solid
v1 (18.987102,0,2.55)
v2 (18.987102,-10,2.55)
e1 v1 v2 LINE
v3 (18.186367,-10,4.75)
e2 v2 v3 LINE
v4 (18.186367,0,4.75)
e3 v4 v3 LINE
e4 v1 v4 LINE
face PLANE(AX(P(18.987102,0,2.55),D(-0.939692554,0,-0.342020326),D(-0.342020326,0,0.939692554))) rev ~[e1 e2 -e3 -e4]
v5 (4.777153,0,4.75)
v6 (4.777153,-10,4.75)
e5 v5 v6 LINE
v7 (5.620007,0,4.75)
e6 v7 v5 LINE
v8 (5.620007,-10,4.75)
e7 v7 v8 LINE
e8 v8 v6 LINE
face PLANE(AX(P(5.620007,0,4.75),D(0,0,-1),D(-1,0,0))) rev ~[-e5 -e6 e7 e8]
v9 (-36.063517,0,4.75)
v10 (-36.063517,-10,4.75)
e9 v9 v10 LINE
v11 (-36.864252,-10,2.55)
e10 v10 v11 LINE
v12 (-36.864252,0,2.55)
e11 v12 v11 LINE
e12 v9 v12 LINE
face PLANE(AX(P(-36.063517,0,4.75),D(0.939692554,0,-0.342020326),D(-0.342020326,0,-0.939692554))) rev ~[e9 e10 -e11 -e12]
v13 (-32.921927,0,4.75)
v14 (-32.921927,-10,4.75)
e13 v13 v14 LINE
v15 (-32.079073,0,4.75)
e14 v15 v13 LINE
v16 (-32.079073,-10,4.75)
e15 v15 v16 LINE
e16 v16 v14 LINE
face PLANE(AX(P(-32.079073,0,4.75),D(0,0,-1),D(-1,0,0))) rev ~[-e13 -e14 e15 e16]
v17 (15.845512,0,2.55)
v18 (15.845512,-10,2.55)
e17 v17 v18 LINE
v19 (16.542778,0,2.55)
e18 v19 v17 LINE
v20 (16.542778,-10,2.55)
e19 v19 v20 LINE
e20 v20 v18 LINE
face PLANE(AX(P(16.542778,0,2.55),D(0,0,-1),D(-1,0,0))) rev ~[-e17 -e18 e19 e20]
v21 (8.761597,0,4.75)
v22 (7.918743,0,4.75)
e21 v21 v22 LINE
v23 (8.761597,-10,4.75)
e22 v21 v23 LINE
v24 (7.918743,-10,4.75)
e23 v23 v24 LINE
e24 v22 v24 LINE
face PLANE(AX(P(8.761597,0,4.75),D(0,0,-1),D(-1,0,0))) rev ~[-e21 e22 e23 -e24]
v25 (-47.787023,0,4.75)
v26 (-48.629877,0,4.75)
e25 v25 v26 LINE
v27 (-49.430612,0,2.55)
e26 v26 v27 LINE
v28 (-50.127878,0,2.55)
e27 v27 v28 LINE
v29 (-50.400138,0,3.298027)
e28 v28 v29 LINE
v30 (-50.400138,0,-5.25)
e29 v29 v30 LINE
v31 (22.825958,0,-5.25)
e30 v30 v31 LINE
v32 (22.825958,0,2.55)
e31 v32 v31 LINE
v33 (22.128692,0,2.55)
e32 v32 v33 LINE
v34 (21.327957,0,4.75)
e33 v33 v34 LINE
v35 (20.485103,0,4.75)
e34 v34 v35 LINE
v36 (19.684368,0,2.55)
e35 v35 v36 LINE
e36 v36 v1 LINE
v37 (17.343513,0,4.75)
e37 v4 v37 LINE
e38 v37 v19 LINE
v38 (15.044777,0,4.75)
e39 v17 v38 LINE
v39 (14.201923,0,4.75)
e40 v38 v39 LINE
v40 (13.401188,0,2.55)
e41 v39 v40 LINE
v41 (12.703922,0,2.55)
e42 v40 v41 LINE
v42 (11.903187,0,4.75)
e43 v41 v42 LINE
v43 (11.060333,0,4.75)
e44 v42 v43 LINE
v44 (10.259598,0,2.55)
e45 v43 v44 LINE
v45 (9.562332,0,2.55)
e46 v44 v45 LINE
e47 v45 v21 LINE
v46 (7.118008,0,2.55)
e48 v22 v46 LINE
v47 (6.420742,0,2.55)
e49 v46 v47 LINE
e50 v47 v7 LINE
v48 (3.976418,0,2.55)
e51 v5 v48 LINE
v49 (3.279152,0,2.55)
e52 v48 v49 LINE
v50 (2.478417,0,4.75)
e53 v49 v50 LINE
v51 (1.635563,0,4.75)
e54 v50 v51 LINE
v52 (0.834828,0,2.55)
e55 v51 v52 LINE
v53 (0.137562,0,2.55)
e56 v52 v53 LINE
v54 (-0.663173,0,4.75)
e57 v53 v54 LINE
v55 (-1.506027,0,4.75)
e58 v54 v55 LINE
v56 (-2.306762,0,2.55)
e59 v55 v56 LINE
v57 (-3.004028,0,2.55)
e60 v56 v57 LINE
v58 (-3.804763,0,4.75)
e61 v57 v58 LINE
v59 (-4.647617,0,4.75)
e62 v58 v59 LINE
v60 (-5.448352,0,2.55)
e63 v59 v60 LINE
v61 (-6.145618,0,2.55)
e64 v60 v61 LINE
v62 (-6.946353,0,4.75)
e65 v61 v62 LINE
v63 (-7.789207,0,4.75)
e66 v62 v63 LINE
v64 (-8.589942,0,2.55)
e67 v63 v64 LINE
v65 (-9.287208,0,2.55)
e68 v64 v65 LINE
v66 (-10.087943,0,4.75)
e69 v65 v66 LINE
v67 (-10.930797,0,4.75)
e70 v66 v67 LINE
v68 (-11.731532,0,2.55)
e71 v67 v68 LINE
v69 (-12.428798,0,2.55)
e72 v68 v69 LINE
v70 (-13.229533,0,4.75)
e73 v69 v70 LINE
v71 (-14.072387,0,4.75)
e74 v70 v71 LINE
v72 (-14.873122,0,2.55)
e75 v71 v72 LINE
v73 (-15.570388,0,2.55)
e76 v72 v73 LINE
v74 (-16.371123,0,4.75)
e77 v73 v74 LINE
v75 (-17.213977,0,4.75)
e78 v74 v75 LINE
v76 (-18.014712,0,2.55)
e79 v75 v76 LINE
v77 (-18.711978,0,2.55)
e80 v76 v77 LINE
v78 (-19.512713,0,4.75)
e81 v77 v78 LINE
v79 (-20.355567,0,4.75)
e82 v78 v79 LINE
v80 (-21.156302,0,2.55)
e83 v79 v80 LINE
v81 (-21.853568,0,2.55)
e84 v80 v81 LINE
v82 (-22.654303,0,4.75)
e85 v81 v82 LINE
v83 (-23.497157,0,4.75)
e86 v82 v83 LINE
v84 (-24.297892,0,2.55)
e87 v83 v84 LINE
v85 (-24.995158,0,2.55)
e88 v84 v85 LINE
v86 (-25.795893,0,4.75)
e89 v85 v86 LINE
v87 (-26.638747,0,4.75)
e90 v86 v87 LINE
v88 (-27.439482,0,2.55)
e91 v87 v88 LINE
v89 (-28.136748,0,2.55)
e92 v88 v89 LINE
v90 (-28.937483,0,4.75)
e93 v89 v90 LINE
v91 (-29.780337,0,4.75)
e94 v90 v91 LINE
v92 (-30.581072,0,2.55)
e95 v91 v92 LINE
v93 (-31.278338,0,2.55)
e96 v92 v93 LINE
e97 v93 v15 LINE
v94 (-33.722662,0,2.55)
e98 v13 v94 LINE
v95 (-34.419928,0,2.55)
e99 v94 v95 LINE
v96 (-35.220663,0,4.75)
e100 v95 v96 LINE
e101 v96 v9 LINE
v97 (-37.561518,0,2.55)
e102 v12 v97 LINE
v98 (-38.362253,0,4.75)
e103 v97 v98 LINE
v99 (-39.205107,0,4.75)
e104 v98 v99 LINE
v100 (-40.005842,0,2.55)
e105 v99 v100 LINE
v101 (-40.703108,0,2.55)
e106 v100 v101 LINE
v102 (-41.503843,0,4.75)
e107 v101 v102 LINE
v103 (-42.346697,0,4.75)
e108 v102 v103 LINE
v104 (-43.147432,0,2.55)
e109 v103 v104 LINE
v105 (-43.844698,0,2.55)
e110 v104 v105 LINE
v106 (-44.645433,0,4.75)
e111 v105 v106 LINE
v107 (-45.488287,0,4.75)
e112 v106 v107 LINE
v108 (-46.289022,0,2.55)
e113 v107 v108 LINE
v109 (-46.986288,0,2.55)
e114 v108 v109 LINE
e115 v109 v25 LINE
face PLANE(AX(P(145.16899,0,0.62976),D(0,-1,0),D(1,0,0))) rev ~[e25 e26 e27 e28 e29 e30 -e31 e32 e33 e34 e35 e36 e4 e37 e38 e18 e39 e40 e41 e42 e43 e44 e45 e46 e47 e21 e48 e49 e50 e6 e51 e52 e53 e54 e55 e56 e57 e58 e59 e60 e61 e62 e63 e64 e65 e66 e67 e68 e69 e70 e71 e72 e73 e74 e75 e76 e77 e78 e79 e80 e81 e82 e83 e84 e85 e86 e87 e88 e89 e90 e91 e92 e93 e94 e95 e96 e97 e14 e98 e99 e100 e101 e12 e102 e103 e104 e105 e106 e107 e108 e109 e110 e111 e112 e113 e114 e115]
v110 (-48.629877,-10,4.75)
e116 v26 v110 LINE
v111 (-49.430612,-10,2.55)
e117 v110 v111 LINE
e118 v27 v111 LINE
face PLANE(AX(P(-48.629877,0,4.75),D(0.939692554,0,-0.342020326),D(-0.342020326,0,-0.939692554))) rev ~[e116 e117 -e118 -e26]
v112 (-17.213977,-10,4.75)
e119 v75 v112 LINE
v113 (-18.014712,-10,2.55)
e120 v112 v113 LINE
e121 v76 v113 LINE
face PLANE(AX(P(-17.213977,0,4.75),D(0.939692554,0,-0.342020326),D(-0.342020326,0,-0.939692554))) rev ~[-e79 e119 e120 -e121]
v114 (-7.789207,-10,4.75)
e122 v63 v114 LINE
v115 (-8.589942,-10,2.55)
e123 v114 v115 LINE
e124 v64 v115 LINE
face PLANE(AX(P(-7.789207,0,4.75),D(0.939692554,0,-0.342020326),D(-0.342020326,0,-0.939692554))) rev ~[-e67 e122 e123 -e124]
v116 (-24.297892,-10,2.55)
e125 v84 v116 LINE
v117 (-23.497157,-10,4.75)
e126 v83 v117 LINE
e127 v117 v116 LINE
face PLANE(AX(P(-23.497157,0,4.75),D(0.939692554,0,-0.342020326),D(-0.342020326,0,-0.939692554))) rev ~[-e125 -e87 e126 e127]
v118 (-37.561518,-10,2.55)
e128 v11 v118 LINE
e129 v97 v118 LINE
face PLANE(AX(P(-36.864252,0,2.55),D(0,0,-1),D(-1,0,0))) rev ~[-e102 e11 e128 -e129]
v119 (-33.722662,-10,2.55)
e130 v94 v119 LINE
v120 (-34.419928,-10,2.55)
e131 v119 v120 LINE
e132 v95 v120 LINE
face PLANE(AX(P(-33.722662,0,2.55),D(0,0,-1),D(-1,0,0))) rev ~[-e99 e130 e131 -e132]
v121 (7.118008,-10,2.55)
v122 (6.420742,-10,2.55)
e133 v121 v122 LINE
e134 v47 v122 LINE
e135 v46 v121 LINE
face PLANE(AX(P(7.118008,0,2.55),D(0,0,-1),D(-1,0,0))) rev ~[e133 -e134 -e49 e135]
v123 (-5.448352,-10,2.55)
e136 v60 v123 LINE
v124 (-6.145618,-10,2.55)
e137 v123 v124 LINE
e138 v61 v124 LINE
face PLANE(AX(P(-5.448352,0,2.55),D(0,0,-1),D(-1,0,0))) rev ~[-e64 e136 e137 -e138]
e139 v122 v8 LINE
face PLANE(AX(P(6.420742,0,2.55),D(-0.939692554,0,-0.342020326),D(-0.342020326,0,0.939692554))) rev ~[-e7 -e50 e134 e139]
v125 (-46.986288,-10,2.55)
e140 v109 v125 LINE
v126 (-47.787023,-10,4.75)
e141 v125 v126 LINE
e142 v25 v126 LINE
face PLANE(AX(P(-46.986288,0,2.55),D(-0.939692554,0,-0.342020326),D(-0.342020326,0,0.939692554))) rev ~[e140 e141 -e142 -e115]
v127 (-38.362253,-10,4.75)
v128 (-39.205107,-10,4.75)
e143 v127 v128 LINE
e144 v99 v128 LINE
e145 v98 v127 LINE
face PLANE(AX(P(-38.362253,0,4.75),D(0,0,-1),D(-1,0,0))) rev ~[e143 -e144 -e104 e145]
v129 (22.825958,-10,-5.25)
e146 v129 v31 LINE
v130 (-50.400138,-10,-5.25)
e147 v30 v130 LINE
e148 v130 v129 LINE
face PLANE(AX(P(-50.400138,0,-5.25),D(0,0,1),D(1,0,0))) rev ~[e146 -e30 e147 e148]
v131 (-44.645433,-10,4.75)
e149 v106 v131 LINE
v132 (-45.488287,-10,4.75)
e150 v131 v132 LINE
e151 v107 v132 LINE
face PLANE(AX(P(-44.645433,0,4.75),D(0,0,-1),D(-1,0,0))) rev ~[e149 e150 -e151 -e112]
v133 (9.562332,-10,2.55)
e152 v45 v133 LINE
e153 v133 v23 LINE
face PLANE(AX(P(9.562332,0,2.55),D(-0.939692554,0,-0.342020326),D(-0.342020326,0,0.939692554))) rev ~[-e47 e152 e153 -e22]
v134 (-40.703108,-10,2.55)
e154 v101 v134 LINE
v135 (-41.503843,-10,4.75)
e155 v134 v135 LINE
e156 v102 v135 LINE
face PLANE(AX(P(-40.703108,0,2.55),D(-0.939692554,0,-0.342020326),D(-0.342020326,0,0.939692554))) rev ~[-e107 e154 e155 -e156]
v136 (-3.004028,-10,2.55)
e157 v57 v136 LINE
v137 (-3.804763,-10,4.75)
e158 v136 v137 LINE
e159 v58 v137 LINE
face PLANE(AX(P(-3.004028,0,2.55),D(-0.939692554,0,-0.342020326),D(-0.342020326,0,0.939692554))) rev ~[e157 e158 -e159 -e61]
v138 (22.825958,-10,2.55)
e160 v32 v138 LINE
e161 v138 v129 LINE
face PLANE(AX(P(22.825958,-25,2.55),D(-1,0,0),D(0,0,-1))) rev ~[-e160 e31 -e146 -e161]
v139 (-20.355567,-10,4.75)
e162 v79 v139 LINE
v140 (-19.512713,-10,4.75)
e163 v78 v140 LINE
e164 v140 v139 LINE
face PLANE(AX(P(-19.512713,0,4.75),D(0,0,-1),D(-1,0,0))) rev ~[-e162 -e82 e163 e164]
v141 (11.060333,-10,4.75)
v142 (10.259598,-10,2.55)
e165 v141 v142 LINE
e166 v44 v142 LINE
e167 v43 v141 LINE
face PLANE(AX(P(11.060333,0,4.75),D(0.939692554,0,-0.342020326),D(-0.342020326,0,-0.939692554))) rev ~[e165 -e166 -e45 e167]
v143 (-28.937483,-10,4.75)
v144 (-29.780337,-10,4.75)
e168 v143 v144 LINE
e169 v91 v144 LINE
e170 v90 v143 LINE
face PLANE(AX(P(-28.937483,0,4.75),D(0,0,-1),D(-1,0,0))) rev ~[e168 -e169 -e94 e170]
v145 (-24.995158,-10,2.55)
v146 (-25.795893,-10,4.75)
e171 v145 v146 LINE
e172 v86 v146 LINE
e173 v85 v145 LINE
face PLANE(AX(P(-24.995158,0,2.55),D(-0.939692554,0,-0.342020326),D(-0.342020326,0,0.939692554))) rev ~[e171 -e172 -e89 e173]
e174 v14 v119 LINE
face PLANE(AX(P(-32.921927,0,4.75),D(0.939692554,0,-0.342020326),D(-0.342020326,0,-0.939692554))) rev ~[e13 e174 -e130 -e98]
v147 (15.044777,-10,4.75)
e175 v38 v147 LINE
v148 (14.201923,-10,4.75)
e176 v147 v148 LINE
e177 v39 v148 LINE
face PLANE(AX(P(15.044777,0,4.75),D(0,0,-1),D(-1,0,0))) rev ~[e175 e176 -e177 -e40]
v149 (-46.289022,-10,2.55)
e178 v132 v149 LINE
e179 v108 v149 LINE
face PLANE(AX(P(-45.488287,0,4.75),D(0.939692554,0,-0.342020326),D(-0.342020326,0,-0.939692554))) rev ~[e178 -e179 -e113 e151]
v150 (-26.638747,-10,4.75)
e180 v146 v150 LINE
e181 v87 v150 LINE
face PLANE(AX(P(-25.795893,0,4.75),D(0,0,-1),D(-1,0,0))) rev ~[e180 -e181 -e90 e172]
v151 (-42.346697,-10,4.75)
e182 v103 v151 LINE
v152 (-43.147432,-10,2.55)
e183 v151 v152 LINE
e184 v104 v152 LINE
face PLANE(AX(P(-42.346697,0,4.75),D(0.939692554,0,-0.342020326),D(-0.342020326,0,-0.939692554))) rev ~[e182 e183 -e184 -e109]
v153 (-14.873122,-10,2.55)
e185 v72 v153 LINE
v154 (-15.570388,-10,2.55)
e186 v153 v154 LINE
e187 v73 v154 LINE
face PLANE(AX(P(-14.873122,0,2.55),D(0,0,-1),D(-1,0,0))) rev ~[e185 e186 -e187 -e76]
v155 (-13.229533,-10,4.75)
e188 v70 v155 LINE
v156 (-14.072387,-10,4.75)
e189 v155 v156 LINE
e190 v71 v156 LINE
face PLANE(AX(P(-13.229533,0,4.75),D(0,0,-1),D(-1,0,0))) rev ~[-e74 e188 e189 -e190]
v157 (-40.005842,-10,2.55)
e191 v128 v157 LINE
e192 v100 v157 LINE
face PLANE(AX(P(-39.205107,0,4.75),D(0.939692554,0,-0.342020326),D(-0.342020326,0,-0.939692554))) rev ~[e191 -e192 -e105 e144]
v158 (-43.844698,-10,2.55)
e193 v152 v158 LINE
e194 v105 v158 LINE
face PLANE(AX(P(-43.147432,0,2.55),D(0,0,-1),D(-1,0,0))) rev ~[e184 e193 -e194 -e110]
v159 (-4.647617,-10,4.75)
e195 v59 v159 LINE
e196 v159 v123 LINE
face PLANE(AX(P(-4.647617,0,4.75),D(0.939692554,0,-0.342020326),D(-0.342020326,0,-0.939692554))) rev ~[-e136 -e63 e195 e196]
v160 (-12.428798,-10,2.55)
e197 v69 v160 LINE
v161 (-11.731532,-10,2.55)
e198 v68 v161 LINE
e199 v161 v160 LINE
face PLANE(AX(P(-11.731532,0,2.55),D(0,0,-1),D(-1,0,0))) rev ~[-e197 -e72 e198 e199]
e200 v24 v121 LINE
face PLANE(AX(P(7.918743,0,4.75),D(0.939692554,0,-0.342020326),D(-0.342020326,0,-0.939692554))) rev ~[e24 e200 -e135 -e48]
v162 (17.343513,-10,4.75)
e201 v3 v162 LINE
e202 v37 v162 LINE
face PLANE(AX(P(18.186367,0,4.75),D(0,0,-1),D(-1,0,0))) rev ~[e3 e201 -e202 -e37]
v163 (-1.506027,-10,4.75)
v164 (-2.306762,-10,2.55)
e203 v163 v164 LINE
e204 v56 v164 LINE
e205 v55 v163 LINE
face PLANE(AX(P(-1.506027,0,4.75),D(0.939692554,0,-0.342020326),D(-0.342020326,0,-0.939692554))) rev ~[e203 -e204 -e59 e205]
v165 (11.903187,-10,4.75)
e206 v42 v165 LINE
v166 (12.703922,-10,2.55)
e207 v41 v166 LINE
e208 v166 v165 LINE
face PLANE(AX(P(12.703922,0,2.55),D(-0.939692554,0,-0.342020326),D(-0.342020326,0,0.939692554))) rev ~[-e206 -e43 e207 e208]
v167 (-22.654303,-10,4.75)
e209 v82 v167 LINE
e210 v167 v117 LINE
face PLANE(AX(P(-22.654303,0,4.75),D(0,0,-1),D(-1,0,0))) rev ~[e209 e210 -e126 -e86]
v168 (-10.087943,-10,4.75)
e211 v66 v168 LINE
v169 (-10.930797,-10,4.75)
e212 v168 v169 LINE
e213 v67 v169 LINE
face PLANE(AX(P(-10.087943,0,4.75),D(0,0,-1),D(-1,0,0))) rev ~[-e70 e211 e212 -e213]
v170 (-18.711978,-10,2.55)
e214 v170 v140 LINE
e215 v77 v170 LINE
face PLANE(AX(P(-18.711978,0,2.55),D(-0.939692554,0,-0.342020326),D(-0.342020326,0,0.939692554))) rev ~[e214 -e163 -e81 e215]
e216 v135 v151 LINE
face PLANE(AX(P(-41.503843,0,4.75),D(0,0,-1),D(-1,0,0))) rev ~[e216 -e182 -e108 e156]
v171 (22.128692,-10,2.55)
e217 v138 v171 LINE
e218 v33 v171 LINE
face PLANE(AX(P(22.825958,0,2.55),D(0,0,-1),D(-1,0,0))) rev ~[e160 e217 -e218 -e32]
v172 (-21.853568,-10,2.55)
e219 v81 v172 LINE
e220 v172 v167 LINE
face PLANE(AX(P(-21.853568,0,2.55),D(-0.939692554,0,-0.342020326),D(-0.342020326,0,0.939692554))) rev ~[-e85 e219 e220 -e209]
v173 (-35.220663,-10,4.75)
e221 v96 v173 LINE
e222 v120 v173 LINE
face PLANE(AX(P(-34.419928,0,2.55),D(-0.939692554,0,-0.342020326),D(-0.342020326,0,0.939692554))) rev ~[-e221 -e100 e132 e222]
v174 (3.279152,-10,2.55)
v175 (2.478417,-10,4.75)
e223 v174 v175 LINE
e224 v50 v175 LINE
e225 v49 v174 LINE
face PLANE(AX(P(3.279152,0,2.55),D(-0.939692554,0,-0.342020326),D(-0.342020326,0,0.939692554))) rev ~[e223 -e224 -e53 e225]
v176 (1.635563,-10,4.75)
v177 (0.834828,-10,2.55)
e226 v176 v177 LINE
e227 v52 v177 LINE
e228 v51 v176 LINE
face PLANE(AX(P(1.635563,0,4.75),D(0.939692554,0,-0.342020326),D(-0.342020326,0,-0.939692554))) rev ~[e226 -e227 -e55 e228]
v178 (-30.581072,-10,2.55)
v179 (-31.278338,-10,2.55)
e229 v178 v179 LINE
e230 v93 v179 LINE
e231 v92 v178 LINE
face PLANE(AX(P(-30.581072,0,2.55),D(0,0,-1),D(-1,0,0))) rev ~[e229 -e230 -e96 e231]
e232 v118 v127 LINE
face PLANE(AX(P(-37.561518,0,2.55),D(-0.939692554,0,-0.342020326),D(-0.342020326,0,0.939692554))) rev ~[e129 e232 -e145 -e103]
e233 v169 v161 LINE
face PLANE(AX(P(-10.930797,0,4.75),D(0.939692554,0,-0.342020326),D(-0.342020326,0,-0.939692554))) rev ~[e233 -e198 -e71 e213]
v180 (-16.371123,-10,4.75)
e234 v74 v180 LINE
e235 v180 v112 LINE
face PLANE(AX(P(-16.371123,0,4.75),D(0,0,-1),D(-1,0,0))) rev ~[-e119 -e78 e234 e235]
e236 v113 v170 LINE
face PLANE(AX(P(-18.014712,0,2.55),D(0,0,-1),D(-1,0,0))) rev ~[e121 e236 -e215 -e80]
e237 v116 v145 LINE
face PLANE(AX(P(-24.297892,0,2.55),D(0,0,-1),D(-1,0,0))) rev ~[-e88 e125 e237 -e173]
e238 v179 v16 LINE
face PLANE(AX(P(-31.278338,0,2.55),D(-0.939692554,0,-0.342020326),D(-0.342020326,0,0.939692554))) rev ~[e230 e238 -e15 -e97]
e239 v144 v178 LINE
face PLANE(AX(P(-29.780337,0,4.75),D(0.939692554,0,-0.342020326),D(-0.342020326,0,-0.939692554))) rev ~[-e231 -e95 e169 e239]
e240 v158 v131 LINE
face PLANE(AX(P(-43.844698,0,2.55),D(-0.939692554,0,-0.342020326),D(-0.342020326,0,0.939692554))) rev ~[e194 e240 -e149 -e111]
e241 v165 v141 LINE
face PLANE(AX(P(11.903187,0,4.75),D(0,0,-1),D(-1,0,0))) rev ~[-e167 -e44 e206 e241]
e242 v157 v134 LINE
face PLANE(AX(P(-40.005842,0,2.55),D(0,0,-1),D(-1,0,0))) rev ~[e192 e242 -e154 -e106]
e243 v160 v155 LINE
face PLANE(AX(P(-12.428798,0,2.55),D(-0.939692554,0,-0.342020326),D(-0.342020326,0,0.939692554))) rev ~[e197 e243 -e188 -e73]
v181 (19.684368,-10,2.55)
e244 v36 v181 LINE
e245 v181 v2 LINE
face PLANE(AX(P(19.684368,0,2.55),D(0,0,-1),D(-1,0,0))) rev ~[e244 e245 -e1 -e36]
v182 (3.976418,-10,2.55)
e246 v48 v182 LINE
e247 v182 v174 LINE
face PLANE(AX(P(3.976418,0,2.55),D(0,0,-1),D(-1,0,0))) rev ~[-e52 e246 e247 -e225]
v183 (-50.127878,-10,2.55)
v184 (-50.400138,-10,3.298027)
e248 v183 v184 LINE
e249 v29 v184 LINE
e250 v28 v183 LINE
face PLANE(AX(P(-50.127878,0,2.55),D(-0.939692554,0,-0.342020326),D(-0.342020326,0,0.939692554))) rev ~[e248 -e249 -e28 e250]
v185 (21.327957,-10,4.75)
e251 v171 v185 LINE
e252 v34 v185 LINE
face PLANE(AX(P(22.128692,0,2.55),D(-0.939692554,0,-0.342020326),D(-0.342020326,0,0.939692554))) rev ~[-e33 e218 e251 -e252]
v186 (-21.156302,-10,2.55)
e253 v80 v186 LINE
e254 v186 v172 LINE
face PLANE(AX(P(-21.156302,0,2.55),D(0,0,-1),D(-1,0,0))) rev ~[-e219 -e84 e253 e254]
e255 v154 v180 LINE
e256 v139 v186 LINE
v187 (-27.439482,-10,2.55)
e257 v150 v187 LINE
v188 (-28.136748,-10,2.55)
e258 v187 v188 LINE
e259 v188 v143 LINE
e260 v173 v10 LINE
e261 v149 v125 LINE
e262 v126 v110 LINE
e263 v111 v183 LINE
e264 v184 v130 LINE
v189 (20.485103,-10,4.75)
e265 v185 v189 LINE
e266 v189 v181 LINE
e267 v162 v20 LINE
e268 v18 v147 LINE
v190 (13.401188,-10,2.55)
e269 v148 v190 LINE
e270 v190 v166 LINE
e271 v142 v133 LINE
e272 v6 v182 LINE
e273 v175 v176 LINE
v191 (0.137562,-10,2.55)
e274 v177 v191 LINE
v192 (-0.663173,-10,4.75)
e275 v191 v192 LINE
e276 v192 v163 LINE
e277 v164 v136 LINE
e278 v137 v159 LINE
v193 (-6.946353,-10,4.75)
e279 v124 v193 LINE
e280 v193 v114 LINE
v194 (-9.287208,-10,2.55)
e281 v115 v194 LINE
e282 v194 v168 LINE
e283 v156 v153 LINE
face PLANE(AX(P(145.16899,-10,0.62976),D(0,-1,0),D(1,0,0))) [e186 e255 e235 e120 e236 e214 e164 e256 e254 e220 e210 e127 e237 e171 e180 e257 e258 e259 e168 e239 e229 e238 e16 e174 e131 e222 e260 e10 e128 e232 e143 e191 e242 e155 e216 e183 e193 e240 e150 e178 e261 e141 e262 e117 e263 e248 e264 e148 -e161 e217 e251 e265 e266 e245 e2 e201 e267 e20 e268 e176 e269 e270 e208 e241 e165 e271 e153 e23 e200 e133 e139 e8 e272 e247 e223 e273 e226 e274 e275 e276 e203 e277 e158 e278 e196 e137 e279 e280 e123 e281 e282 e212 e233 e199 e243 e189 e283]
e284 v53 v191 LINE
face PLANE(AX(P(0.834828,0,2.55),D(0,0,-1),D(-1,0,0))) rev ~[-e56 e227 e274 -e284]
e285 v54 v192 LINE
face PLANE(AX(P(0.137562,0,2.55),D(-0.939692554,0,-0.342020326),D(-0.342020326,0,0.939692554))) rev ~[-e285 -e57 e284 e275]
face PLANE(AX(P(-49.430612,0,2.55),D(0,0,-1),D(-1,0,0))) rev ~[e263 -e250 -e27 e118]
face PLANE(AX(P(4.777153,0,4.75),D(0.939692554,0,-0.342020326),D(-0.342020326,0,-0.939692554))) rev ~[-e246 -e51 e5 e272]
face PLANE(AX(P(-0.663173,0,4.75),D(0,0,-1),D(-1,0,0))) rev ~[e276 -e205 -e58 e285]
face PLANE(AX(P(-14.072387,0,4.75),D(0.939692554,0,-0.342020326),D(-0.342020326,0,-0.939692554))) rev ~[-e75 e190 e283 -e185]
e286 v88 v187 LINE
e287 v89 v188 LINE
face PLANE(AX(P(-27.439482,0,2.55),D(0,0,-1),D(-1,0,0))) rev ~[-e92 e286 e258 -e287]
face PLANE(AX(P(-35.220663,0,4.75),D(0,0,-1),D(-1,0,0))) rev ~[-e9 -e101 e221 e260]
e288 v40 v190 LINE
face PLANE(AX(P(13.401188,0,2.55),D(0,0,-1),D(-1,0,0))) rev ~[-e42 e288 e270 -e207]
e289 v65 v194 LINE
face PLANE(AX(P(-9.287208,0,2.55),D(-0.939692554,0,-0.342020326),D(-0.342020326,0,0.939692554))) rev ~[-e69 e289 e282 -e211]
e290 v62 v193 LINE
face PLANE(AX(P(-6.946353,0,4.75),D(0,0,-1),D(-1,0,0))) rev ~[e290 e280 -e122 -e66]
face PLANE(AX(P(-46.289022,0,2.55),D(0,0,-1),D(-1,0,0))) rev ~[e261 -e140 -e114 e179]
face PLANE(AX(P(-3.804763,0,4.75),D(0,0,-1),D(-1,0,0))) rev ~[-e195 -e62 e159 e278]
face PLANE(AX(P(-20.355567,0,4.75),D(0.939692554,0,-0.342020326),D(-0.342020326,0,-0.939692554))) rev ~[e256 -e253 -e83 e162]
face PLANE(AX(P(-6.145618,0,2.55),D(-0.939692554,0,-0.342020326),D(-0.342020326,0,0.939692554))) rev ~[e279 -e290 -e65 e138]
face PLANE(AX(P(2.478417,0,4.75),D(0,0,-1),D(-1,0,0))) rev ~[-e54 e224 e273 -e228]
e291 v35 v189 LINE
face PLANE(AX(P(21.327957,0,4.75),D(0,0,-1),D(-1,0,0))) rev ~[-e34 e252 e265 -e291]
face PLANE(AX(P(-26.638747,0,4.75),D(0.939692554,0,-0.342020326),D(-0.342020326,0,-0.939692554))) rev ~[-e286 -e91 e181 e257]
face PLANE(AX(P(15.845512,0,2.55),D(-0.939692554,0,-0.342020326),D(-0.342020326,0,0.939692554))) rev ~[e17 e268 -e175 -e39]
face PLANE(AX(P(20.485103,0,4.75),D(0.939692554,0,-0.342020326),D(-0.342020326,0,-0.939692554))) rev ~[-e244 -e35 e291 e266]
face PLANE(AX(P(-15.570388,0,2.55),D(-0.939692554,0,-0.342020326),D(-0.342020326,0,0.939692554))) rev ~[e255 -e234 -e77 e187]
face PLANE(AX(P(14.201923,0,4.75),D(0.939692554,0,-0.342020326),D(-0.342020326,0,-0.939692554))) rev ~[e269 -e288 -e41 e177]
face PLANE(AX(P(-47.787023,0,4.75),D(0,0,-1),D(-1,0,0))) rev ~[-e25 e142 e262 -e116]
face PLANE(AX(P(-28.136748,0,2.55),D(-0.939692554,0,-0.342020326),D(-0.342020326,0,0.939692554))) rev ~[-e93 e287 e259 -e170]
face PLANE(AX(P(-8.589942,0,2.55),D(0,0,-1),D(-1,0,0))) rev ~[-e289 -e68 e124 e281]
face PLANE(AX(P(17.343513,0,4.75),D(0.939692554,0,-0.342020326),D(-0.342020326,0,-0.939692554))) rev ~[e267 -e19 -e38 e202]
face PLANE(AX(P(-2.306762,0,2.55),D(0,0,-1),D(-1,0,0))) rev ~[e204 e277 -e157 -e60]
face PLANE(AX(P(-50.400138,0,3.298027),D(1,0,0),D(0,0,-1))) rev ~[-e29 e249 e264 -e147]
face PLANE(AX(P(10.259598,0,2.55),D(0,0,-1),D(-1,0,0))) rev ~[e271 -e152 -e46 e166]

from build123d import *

# Parameters (mm, degrees)
F1_DEPTH = 25
F3_DEPTH = 26
F5_DEPTH = 25
F6_DEPTH = 15


with BuildPart() as f1:
    # F0 (on Front) → F1 (new body)
    with BuildSketch(Plane.XZ):
        Polygon((245.77381, 2.55), (245.181582, 2.55), (244.380847, 4.75), (243.537993, 4.75), (242.737258, 2.55), (242.039992, 2.55), (241.239257, 4.75), (240.396403, 4.75), (239.595668, 2.55), (238.898402, 2.55), (238.097667, 4.75), (237.254813, 4.75), (236.454078, 2.55), (235.756812, 2.55), (234.956077, 4.75), (234.113223, 4.75), (233.312488, 2.55), (232.615222, 2.55), (231.814487, 4.75), (230.971633, 4.75), (230.170898, 2.55), (229.473632, 2.55), (228.672897, 4.75), (227.830043, 4.75), (227.029308, 2.55), (226.332042, 2.55), (225.531307, 4.75), (224.688453, 4.75), (223.887718, 2.55), (223.190452, 2.55), (222.389717, 4.75), (221.546863, 4.75), (220.746128, 2.55), (220.048862, 2.55), (219.248127, 4.75), (218.405273, 4.75), (217.604538, 2.55), (216.907272, 2.55), (216.106537, 4.75), (215.263683, 4.75), (214.462948, 2.55), (213.765682, 2.55), (212.964947, 4.75), (212.122093, 4.75), (211.321358, 2.55), (210.624092, 2.55), (209.823357, 4.75), (208.980503, 4.75), (208.179768, 2.55), (207.482502, 2.55), (206.681767, 4.75), (205.838913, 4.75), (205.038178, 2.55), (204.340912, 2.55), (203.540177, 4.75), (202.697323, 4.75), (201.896588, 2.55), (201.199322, 2.55), (200.398587, 4.75), (199.555733, 4.75), (198.754998, 2.55), (198.057732, 2.55), (197.256997, 4.75), (196.414143, 4.75), (195.613408, 2.55), (194.916142, 2.55), (194.115407, 4.75), (193.272553, 4.75), (192.471818, 2.55), (191.774552, 2.55), (190.973817, 4.75), (190.130963, 4.75), (189.330228, 2.55), (188.632962, 2.55), (187.832227, 4.75), (186.989373, 4.75), (186.188638, 2.55), (185.491372, 2.55), (184.690637, 4.75), (183.847783, 4.75), (183.047048, 2.55), (182.349782, 2.55), (181.549047, 4.75), (180.706193, 4.75), (179.905458, 2.55), (179.208192, 2.55), (178.407457, 4.75), (177.564603, 4.75), (176.763868, 2.55), (176.066602, 2.55), (175.265867, 4.75), (174.423013, 4.75), (173.622278, 2.55), (172.925012, 2.55), (172.124277, 4.75), (171.281423, 4.75), (170.480688, 2.55), (169.783422, 2.55), (168.982687, 4.75), (168.139833, 4.75), (167.339098, 2.55), (166.641832, 2.55), (165.841097, 4.75), (164.998243, 4.75), (164.197508, 2.55), (163.500242, 2.55), (162.699507, 4.75), (161.856653, 4.75), (161.055918, 2.55), (160.358652, 2.55), (159.557917, 4.75), (158.715063, 4.75), (157.914328, 2.55), (157.217062, 2.55), (156.416327, 4.75), (155.573473, 4.75), (154.772738, 2.55), (154.075472, 2.55), (153.274737, 4.75), (152.431883, 4.75), (151.631148, 2.55), (150.933882, 2.55), (150.133147, 4.75), (149.290293, 4.75), (148.489558, 2.55), (147.792292, 2.55), (146.991557, 4.75), (146.148703, 4.75), (145.347968, 2.55), (144.650702, 2.55), (143.849967, 4.75), (143.007113, 4.75), (142.206378, 2.55), (141.509112, 2.55), (140.708377, 4.75), (139.865523, 4.75), (139.064788, 2.55), (138.367522, 2.55), (137.566787, 4.75), (136.723933, 4.75), (135.923198, 2.55), (135.225932, 2.55), (134.425197, 4.75), (133.582343, 4.75), (132.781608, 2.55), (132.084342, 2.55), (131.283607, 4.75), (130.440753, 4.75), (129.640018, 2.55), (128.942752, 2.55), (128.142017, 4.75), (127.299163, 4.75), (126.498428, 2.55), (125.801162, 2.55), (125.000427, 4.75), (124.157573, 4.75), (123.356838, 2.55), (122.659572, 2.55), (121.858837, 4.75), (121.015983, 4.75), (120.215248, 2.55), (119.517982, 2.55), (118.717247, 4.75), (117.874393, 4.75), (117.073658, 2.55), (116.376392, 2.55), (115.575657, 4.75), (114.732803, 4.75), (113.932068, 2.55), (113.234802, 2.55), (112.434067, 4.75), (111.591213, 4.75), (110.790478, 2.55), (110.093212, 2.55), (109.292477, 4.75), (108.449623, 4.75), (107.648888, 2.55), (106.951622, 2.55), (106.150887, 4.75), (105.308033, 4.75), (104.507298, 2.55), (103.810032, 2.55), (103.009297, 4.75), (102.166443, 4.75), (101.365708, 2.55), (100.668442, 2.55), (99.867707, 4.75), (99.024853, 4.75), (98.224118, 2.55), (97.526852, 2.55), (96.726117, 4.75), (95.883263, 4.75), (95.082528, 2.55), (94.385262, 2.55), (93.584527, 4.75), (92.741673, 4.75), (91.940938, 2.55), (91.243672, 2.55), (90.442937, 4.75), (89.600083, 4.75), (88.799348, 2.55), (88.102082, 2.55), (87.301347, 4.75), (86.458493, 4.75), (85.657758, 2.55), (84.960492, 2.55), (84.159757, 4.75), (83.316903, 4.75), (82.516168, 2.55), (81.818902, 2.55), (81.018167, 4.75), (80.175313, 4.75), (79.374578, 2.55), (78.677312, 2.55), (77.876577, 4.75), (77.033723, 4.75), (76.232988, 2.55), (75.535722, 2.55), (74.734987, 4.75), (73.892133, 4.75), (73.091398, 2.55), (72.394132, 2.55), (71.593397, 4.75), (70.750543, 4.75), (69.949808, 2.55), (69.252542, 2.55), (68.451807, 4.75), (67.608953, 4.75), (66.808218, 2.55), (66.110952, 2.55), (65.310217, 4.75), (64.467363, 4.75), (63.666628, 2.55), (62.969362, 2.55), (62.168627, 4.75), (61.325773, 4.75), (60.525038, 2.55), (59.827772, 2.55), (59.027037, 4.75), (58.184183, 4.75), (57.383448, 2.55), (56.686182, 2.55), (55.885447, 4.75), (55.042593, 4.75), (54.241858, 2.55), (53.544592, 2.55), (52.743857, 4.75), (51.901003, 4.75), (51.100268, 2.55), (50.403002, 2.55), (49.602267, 4.75), (48.759413, 4.75), (47.958678, 2.55), (47.261412, 2.55), (46.460677, 4.75), (45.617823, 4.75), (44.817088, 2.55), (44.7243452072, 2.55), (44.7243452072, -5.25), (245.77381, -5.25), align=None)
        Polygon((-50.4001379013, -5.25), (44.7243452072, -5.25), (44.7243452072, 2.55), (44.119822, 2.55), (43.319087, 4.75), (42.476233, 4.75), (41.675498, 2.55), (40.978232, 2.55), (40.177497, 4.75), (39.334643, 4.75), (38.533908, 2.55), (37.836642, 2.55), (37.035907, 4.75), (36.193053, 4.75), (35.392318, 2.55), (34.695052, 2.55), (33.894317, 4.75), (33.051463, 4.75), (32.250728, 2.55), (31.553462, 2.55), (30.752727, 4.75), (29.909873, 4.75), (29.109138, 2.55), (28.411872, 2.55), (27.611137, 4.75), (26.768283, 4.75), (25.967548, 2.55), (25.270282, 2.55), (24.469547, 4.75), (23.626693, 4.75), (22.825958, 2.55), (22.128692, 2.55), (21.327957, 4.75), (20.485103, 4.75), (19.684368, 2.55), (18.987102, 2.55), (18.186367, 4.75), (17.343513, 4.75), (16.542778, 2.55), (15.845512, 2.55), (15.044777, 4.75), (14.201923, 4.75), (13.401188, 2.55), (12.703922, 2.55), (11.903187, 4.75), (11.060333, 4.75), (10.259598, 2.55), (9.562332, 2.55), (8.761597, 4.75), (7.918743, 4.75), (7.118008, 2.55), (6.420742, 2.55), (5.620007, 4.75), (4.777153, 4.75), (3.976418, 2.55), (3.279152, 2.55), (2.478417, 4.75), (1.635563, 4.75), (0.834828, 2.55), (0.137562, 2.55), (-0.663173, 4.75), (-1.506027, 4.75), (-2.306762, 2.55), (-3.004028, 2.55), (-3.804763, 4.75), (-4.647617, 4.75), (-5.448352, 2.55), (-6.145618, 2.55), (-6.946353, 4.75), (-7.789207, 4.75), (-8.589942, 2.55), (-9.287208, 2.55), (-10.087943, 4.75), (-10.930797, 4.75), (-11.731532, 2.55), (-12.428798, 2.55), (-13.229533, 4.75), (-14.072387, 4.75), (-14.873122, 2.55), (-15.570388, 2.55), (-16.371123, 4.75), (-17.213977, 4.75), (-18.014712, 2.55), (-18.711978, 2.55), (-19.512713, 4.75), (-20.355567, 4.75), (-21.156302, 2.55), (-21.853568, 2.55), (-22.654303, 4.75), (-23.497157, 4.75), (-24.297892, 2.55), (-24.995158, 2.55), (-25.795893, 4.75), (-26.638747, 4.75), (-27.439482, 2.55), (-28.136748, 2.55), (-28.937483, 4.75), (-29.780337, 4.75), (-30.581072, 2.55), (-31.278338, 2.55), (-32.079073, 4.75), (-32.921927, 4.75), (-33.722662, 2.55), (-34.419928, 2.55), (-35.220663, 4.75), (-36.063517, 4.75), (-36.864252, 2.55), (-37.561518, 2.55), (-38.362253, 4.75), (-39.205107, 4.75), (-40.005842, 2.55), (-40.703108, 2.55), (-41.503843, 4.75), (-42.346697, 4.75), (-43.147432, 2.55), (-43.844698, 2.55), (-44.645433, 4.75), (-45.488287, 4.75), (-46.289022, 2.55), (-46.986288, 2.55), (-47.787023, 4.75), (-48.629877, 4.75), (-49.430612, 2.55), (-50.127878, 2.55), (-50.4001379013, 3.2980274783), align=None)
    extrude(amount=F1_DEPTH)

    # F2 (on face) → F3 (cut)
    with BuildSketch(Plane.XZ.offset(25)):
        Polygon((111.591213, 4.75), (110.790478, 2.55), (110.790478, -5.25), (245.77381, -5.25), (245.77381, 2.55), (245.181582, 2.55), (244.380847, 4.75), (243.537993, 4.75), (242.737258, 2.55), (242.039992, 2.55), (241.239257, 4.75), (240.396403, 4.75), (239.595668, 2.55), (238.898402, 2.55), (238.097667, 4.75), (237.254813, 4.75), (236.454078, 2.55), (235.756812, 2.55), (234.956077, 4.75), (234.113223, 4.75), (233.312488, 2.55), (232.615222, 2.55), (231.814487, 4.75), (230.971633, 4.75), (230.170898, 2.55), (229.473632, 2.55), (228.672897, 4.75), (227.830043, 4.75), (227.029308, 2.55), (226.332042, 2.55), (225.531307, 4.75), (224.688453, 4.75), (223.887718, 2.55), (223.190452, 2.55), (222.389717, 4.75), (221.546863, 4.75), (220.746128, 2.55), (220.048862, 2.55), (219.248127, 4.75), (218.405273, 4.75), (217.604538, 2.55), (216.907272, 2.55), (216.106537, 4.75), (215.263683, 4.75), (214.462948, 2.55), (213.765682, 2.55), (212.964947, 4.75), (212.122093, 4.75), (211.321358, 2.55), (210.624092, 2.55), (209.823357, 4.75), (208.980503, 4.75), (208.179768, 2.55), (207.482502, 2.55), (206.681767, 4.75), (205.838913, 4.75), (205.038178, 2.55), (204.340912, 2.55), (203.540177, 4.75), (202.697323, 4.75), (201.896588, 2.55), (201.199322, 2.55), (200.398587, 4.75), (199.555733, 4.75), (198.754998, 2.55), (198.057732, 2.55), (197.256997, 4.75), (196.414143, 4.75), (195.613408, 2.55), (194.916142, 2.55), (194.115407, 4.75), (193.272553, 4.75), (192.471818, 2.55), (191.774552, 2.55), (190.973817, 4.75), (190.130963, 4.75), (189.330228, 2.55), (188.632962, 2.55), (187.832227, 4.75), (186.989373, 4.75), (186.188638, 2.55), (185.491372, 2.55), (184.690637, 4.75), (183.847783, 4.75), (183.047048, 2.55), (182.349782, 2.55), (181.549047, 4.75), (180.706193, 4.75), (179.905458, 2.55), (179.208192, 2.55), (178.407457, 4.75), (177.564603, 4.75), (176.763868, 2.55), (176.066602, 2.55), (175.265867, 4.75), (174.423013, 4.75), (173.622278, 2.55), (172.925012, 2.55), (172.124277, 4.75), (171.281423, 4.75), (170.480688, 2.55), (169.783422, 2.55), (168.982687, 4.75), (168.139833, 4.75), (167.339098, 2.55), (166.641832, 2.55), (165.841097, 4.75), (164.998243, 4.75), (164.197508, 2.55), (163.500242, 2.55), (162.699507, 4.75), (161.856653, 4.75), (161.055918, 2.55), (160.358652, 2.55), (159.557917, 4.75), (158.715063, 4.75), (157.914328, 2.55), (157.217062, 2.55), (156.416327, 4.75), (155.573473, 4.75), (154.772738, 2.55), (154.075472, 2.55), (153.274737, 4.75), (152.431883, 4.75), (151.631148, 2.55), (150.933882, 2.55), (150.133147, 4.75), (149.290293, 4.75), (148.489558, 2.55), (147.792292, 2.55), (146.991557, 4.75), (146.148703, 4.75), (145.347968, 2.55), (144.650702, 2.55), (143.849967, 4.75), (143.007113, 4.75), (142.206378, 2.55), (141.509112, 2.55), (140.708377, 4.75), (139.865523, 4.75), (139.064788, 2.55), (138.367522, 2.55), (137.566787, 4.75), (136.723933, 4.75), (135.923198, 2.55), (135.225932, 2.55), (134.425197, 4.75), (133.582343, 4.75), (132.781608, 2.55), (132.084342, 2.55), (131.283607, 4.75), (130.440753, 4.75), (129.640018, 2.55), (128.942752, 2.55), (128.142017, 4.75), (127.299163, 4.75), (126.498428, 2.55), (125.801162, 2.55), (125.000427, 4.75), (124.157573, 4.75), (123.356838, 2.55), (122.659572, 2.55), (121.858837, 4.75), (121.015983, 4.75), (120.215248, 2.55), (119.517982, 2.55), (118.717247, 4.75), (117.874393, 4.75), (117.073658, 2.55), (116.376392, 2.55), (115.575657, 4.75), (114.732803, 4.75), (113.932068, 2.55), (113.234802, 2.55), (112.434067, 4.75), align=None)
    extrude(amount=-F3_DEPTH, mode=Mode.SUBTRACT)

    # F4 (on face) → F5 (cut)
    with BuildSketch(Plane.XZ.offset(25)):
        Polygon((23.626693, 4.75), (22.825958, 2.55), (22.825958, -5.25), (110.790478, -5.25), (110.790478, 2.55), (110.093212, 2.55), (109.292477, 4.75), (108.449623, 4.75), (107.648888, 2.55), (106.951622, 2.55), (106.150887, 4.75), (105.308033, 4.75), (104.507298, 2.55), (103.810032, 2.55), (103.009297, 4.75), (102.166443, 4.75), (101.365708, 2.55), (100.668442, 2.55), (99.867707, 4.75), (99.024853, 4.75), (98.224118, 2.55), (97.526852, 2.55), (96.726117, 4.75), (95.883263, 4.75), (95.082528, 2.55), (94.385262, 2.55), (93.584527, 4.75), (92.741673, 4.75), (91.940938, 2.55), (91.243672, 2.55), (90.442937, 4.75), (89.600083, 4.75), (88.799348, 2.55), (88.102082, 2.55), (87.301347, 4.75), (86.458493, 4.75), (85.657758, 2.55), (84.960492, 2.55), (84.159757, 4.75), (83.316903, 4.75), (82.516168, 2.55), (81.818902, 2.55), (81.018167, 4.75), (80.175313, 4.75), (79.374578, 2.55), (78.677312, 2.55), (77.876577, 4.75), (77.033723, 4.75), (76.232988, 2.55), (75.535722, 2.55), (74.734987, 4.75), (73.892133, 4.75), (73.091398, 2.55), (72.394132, 2.55), (71.593397, 4.75), (70.750543, 4.75), (69.949808, 2.55), (69.252542, 2.55), (68.451807, 4.75), (67.608953, 4.75), (66.808218, 2.55), (66.110952, 2.55), (65.310217, 4.75), (64.467363, 4.75), (63.666628, 2.55), (62.969362, 2.55), (62.168627, 4.75), (61.325773, 4.75), (60.525038, 2.55), (59.827772, 2.55), (59.027037, 4.75), (58.184183, 4.75), (57.383448, 2.55), (56.686182, 2.55), (55.885447, 4.75), (55.042593, 4.75), (54.241858, 2.55), (53.544592, 2.55), (52.743857, 4.75), (51.901003, 4.75), (51.100268, 2.55), (50.403002, 2.55), (49.602267, 4.75), (48.759413, 4.75), (47.958678, 2.55), (47.261412, 2.55), (46.460677, 4.75), (45.617823, 4.75), (44.817088, 2.55), (44.119822, 2.55), (43.319087, 4.75), (42.476233, 4.75), (41.675498, 2.55), (40.978232, 2.55), (40.177497, 4.75), (39.334643, 4.75), (38.533908, 2.55), (37.836642, 2.55), (37.035907, 4.75), (36.193053, 4.75), (35.392318, 2.55), (34.695052, 2.55), (33.894317, 4.75), (33.051463, 4.75), (32.250728, 2.55), (31.553462, 2.55), (30.752727, 4.75), (29.909873, 4.75), (29.109138, 2.55), (28.411872, 2.55), (27.611137, 4.75), (26.768283, 4.75), (25.967548, 2.55), (25.270282, 2.55), (24.469547, 4.75), align=None)
    extrude(amount=-F5_DEPTH, mode=Mode.SUBTRACT)

    # F6 (cut): a face of the model
    f6_faces = [f1.faces().sort_by_distance(p)[0] for p in [
        (-13.7754732897, -25, -0.7366515357),
    ]]
    extrude(f6_faces, amount=-F6_DEPTH, mode=Mode.SUBTRACT)


solid = f1.part
